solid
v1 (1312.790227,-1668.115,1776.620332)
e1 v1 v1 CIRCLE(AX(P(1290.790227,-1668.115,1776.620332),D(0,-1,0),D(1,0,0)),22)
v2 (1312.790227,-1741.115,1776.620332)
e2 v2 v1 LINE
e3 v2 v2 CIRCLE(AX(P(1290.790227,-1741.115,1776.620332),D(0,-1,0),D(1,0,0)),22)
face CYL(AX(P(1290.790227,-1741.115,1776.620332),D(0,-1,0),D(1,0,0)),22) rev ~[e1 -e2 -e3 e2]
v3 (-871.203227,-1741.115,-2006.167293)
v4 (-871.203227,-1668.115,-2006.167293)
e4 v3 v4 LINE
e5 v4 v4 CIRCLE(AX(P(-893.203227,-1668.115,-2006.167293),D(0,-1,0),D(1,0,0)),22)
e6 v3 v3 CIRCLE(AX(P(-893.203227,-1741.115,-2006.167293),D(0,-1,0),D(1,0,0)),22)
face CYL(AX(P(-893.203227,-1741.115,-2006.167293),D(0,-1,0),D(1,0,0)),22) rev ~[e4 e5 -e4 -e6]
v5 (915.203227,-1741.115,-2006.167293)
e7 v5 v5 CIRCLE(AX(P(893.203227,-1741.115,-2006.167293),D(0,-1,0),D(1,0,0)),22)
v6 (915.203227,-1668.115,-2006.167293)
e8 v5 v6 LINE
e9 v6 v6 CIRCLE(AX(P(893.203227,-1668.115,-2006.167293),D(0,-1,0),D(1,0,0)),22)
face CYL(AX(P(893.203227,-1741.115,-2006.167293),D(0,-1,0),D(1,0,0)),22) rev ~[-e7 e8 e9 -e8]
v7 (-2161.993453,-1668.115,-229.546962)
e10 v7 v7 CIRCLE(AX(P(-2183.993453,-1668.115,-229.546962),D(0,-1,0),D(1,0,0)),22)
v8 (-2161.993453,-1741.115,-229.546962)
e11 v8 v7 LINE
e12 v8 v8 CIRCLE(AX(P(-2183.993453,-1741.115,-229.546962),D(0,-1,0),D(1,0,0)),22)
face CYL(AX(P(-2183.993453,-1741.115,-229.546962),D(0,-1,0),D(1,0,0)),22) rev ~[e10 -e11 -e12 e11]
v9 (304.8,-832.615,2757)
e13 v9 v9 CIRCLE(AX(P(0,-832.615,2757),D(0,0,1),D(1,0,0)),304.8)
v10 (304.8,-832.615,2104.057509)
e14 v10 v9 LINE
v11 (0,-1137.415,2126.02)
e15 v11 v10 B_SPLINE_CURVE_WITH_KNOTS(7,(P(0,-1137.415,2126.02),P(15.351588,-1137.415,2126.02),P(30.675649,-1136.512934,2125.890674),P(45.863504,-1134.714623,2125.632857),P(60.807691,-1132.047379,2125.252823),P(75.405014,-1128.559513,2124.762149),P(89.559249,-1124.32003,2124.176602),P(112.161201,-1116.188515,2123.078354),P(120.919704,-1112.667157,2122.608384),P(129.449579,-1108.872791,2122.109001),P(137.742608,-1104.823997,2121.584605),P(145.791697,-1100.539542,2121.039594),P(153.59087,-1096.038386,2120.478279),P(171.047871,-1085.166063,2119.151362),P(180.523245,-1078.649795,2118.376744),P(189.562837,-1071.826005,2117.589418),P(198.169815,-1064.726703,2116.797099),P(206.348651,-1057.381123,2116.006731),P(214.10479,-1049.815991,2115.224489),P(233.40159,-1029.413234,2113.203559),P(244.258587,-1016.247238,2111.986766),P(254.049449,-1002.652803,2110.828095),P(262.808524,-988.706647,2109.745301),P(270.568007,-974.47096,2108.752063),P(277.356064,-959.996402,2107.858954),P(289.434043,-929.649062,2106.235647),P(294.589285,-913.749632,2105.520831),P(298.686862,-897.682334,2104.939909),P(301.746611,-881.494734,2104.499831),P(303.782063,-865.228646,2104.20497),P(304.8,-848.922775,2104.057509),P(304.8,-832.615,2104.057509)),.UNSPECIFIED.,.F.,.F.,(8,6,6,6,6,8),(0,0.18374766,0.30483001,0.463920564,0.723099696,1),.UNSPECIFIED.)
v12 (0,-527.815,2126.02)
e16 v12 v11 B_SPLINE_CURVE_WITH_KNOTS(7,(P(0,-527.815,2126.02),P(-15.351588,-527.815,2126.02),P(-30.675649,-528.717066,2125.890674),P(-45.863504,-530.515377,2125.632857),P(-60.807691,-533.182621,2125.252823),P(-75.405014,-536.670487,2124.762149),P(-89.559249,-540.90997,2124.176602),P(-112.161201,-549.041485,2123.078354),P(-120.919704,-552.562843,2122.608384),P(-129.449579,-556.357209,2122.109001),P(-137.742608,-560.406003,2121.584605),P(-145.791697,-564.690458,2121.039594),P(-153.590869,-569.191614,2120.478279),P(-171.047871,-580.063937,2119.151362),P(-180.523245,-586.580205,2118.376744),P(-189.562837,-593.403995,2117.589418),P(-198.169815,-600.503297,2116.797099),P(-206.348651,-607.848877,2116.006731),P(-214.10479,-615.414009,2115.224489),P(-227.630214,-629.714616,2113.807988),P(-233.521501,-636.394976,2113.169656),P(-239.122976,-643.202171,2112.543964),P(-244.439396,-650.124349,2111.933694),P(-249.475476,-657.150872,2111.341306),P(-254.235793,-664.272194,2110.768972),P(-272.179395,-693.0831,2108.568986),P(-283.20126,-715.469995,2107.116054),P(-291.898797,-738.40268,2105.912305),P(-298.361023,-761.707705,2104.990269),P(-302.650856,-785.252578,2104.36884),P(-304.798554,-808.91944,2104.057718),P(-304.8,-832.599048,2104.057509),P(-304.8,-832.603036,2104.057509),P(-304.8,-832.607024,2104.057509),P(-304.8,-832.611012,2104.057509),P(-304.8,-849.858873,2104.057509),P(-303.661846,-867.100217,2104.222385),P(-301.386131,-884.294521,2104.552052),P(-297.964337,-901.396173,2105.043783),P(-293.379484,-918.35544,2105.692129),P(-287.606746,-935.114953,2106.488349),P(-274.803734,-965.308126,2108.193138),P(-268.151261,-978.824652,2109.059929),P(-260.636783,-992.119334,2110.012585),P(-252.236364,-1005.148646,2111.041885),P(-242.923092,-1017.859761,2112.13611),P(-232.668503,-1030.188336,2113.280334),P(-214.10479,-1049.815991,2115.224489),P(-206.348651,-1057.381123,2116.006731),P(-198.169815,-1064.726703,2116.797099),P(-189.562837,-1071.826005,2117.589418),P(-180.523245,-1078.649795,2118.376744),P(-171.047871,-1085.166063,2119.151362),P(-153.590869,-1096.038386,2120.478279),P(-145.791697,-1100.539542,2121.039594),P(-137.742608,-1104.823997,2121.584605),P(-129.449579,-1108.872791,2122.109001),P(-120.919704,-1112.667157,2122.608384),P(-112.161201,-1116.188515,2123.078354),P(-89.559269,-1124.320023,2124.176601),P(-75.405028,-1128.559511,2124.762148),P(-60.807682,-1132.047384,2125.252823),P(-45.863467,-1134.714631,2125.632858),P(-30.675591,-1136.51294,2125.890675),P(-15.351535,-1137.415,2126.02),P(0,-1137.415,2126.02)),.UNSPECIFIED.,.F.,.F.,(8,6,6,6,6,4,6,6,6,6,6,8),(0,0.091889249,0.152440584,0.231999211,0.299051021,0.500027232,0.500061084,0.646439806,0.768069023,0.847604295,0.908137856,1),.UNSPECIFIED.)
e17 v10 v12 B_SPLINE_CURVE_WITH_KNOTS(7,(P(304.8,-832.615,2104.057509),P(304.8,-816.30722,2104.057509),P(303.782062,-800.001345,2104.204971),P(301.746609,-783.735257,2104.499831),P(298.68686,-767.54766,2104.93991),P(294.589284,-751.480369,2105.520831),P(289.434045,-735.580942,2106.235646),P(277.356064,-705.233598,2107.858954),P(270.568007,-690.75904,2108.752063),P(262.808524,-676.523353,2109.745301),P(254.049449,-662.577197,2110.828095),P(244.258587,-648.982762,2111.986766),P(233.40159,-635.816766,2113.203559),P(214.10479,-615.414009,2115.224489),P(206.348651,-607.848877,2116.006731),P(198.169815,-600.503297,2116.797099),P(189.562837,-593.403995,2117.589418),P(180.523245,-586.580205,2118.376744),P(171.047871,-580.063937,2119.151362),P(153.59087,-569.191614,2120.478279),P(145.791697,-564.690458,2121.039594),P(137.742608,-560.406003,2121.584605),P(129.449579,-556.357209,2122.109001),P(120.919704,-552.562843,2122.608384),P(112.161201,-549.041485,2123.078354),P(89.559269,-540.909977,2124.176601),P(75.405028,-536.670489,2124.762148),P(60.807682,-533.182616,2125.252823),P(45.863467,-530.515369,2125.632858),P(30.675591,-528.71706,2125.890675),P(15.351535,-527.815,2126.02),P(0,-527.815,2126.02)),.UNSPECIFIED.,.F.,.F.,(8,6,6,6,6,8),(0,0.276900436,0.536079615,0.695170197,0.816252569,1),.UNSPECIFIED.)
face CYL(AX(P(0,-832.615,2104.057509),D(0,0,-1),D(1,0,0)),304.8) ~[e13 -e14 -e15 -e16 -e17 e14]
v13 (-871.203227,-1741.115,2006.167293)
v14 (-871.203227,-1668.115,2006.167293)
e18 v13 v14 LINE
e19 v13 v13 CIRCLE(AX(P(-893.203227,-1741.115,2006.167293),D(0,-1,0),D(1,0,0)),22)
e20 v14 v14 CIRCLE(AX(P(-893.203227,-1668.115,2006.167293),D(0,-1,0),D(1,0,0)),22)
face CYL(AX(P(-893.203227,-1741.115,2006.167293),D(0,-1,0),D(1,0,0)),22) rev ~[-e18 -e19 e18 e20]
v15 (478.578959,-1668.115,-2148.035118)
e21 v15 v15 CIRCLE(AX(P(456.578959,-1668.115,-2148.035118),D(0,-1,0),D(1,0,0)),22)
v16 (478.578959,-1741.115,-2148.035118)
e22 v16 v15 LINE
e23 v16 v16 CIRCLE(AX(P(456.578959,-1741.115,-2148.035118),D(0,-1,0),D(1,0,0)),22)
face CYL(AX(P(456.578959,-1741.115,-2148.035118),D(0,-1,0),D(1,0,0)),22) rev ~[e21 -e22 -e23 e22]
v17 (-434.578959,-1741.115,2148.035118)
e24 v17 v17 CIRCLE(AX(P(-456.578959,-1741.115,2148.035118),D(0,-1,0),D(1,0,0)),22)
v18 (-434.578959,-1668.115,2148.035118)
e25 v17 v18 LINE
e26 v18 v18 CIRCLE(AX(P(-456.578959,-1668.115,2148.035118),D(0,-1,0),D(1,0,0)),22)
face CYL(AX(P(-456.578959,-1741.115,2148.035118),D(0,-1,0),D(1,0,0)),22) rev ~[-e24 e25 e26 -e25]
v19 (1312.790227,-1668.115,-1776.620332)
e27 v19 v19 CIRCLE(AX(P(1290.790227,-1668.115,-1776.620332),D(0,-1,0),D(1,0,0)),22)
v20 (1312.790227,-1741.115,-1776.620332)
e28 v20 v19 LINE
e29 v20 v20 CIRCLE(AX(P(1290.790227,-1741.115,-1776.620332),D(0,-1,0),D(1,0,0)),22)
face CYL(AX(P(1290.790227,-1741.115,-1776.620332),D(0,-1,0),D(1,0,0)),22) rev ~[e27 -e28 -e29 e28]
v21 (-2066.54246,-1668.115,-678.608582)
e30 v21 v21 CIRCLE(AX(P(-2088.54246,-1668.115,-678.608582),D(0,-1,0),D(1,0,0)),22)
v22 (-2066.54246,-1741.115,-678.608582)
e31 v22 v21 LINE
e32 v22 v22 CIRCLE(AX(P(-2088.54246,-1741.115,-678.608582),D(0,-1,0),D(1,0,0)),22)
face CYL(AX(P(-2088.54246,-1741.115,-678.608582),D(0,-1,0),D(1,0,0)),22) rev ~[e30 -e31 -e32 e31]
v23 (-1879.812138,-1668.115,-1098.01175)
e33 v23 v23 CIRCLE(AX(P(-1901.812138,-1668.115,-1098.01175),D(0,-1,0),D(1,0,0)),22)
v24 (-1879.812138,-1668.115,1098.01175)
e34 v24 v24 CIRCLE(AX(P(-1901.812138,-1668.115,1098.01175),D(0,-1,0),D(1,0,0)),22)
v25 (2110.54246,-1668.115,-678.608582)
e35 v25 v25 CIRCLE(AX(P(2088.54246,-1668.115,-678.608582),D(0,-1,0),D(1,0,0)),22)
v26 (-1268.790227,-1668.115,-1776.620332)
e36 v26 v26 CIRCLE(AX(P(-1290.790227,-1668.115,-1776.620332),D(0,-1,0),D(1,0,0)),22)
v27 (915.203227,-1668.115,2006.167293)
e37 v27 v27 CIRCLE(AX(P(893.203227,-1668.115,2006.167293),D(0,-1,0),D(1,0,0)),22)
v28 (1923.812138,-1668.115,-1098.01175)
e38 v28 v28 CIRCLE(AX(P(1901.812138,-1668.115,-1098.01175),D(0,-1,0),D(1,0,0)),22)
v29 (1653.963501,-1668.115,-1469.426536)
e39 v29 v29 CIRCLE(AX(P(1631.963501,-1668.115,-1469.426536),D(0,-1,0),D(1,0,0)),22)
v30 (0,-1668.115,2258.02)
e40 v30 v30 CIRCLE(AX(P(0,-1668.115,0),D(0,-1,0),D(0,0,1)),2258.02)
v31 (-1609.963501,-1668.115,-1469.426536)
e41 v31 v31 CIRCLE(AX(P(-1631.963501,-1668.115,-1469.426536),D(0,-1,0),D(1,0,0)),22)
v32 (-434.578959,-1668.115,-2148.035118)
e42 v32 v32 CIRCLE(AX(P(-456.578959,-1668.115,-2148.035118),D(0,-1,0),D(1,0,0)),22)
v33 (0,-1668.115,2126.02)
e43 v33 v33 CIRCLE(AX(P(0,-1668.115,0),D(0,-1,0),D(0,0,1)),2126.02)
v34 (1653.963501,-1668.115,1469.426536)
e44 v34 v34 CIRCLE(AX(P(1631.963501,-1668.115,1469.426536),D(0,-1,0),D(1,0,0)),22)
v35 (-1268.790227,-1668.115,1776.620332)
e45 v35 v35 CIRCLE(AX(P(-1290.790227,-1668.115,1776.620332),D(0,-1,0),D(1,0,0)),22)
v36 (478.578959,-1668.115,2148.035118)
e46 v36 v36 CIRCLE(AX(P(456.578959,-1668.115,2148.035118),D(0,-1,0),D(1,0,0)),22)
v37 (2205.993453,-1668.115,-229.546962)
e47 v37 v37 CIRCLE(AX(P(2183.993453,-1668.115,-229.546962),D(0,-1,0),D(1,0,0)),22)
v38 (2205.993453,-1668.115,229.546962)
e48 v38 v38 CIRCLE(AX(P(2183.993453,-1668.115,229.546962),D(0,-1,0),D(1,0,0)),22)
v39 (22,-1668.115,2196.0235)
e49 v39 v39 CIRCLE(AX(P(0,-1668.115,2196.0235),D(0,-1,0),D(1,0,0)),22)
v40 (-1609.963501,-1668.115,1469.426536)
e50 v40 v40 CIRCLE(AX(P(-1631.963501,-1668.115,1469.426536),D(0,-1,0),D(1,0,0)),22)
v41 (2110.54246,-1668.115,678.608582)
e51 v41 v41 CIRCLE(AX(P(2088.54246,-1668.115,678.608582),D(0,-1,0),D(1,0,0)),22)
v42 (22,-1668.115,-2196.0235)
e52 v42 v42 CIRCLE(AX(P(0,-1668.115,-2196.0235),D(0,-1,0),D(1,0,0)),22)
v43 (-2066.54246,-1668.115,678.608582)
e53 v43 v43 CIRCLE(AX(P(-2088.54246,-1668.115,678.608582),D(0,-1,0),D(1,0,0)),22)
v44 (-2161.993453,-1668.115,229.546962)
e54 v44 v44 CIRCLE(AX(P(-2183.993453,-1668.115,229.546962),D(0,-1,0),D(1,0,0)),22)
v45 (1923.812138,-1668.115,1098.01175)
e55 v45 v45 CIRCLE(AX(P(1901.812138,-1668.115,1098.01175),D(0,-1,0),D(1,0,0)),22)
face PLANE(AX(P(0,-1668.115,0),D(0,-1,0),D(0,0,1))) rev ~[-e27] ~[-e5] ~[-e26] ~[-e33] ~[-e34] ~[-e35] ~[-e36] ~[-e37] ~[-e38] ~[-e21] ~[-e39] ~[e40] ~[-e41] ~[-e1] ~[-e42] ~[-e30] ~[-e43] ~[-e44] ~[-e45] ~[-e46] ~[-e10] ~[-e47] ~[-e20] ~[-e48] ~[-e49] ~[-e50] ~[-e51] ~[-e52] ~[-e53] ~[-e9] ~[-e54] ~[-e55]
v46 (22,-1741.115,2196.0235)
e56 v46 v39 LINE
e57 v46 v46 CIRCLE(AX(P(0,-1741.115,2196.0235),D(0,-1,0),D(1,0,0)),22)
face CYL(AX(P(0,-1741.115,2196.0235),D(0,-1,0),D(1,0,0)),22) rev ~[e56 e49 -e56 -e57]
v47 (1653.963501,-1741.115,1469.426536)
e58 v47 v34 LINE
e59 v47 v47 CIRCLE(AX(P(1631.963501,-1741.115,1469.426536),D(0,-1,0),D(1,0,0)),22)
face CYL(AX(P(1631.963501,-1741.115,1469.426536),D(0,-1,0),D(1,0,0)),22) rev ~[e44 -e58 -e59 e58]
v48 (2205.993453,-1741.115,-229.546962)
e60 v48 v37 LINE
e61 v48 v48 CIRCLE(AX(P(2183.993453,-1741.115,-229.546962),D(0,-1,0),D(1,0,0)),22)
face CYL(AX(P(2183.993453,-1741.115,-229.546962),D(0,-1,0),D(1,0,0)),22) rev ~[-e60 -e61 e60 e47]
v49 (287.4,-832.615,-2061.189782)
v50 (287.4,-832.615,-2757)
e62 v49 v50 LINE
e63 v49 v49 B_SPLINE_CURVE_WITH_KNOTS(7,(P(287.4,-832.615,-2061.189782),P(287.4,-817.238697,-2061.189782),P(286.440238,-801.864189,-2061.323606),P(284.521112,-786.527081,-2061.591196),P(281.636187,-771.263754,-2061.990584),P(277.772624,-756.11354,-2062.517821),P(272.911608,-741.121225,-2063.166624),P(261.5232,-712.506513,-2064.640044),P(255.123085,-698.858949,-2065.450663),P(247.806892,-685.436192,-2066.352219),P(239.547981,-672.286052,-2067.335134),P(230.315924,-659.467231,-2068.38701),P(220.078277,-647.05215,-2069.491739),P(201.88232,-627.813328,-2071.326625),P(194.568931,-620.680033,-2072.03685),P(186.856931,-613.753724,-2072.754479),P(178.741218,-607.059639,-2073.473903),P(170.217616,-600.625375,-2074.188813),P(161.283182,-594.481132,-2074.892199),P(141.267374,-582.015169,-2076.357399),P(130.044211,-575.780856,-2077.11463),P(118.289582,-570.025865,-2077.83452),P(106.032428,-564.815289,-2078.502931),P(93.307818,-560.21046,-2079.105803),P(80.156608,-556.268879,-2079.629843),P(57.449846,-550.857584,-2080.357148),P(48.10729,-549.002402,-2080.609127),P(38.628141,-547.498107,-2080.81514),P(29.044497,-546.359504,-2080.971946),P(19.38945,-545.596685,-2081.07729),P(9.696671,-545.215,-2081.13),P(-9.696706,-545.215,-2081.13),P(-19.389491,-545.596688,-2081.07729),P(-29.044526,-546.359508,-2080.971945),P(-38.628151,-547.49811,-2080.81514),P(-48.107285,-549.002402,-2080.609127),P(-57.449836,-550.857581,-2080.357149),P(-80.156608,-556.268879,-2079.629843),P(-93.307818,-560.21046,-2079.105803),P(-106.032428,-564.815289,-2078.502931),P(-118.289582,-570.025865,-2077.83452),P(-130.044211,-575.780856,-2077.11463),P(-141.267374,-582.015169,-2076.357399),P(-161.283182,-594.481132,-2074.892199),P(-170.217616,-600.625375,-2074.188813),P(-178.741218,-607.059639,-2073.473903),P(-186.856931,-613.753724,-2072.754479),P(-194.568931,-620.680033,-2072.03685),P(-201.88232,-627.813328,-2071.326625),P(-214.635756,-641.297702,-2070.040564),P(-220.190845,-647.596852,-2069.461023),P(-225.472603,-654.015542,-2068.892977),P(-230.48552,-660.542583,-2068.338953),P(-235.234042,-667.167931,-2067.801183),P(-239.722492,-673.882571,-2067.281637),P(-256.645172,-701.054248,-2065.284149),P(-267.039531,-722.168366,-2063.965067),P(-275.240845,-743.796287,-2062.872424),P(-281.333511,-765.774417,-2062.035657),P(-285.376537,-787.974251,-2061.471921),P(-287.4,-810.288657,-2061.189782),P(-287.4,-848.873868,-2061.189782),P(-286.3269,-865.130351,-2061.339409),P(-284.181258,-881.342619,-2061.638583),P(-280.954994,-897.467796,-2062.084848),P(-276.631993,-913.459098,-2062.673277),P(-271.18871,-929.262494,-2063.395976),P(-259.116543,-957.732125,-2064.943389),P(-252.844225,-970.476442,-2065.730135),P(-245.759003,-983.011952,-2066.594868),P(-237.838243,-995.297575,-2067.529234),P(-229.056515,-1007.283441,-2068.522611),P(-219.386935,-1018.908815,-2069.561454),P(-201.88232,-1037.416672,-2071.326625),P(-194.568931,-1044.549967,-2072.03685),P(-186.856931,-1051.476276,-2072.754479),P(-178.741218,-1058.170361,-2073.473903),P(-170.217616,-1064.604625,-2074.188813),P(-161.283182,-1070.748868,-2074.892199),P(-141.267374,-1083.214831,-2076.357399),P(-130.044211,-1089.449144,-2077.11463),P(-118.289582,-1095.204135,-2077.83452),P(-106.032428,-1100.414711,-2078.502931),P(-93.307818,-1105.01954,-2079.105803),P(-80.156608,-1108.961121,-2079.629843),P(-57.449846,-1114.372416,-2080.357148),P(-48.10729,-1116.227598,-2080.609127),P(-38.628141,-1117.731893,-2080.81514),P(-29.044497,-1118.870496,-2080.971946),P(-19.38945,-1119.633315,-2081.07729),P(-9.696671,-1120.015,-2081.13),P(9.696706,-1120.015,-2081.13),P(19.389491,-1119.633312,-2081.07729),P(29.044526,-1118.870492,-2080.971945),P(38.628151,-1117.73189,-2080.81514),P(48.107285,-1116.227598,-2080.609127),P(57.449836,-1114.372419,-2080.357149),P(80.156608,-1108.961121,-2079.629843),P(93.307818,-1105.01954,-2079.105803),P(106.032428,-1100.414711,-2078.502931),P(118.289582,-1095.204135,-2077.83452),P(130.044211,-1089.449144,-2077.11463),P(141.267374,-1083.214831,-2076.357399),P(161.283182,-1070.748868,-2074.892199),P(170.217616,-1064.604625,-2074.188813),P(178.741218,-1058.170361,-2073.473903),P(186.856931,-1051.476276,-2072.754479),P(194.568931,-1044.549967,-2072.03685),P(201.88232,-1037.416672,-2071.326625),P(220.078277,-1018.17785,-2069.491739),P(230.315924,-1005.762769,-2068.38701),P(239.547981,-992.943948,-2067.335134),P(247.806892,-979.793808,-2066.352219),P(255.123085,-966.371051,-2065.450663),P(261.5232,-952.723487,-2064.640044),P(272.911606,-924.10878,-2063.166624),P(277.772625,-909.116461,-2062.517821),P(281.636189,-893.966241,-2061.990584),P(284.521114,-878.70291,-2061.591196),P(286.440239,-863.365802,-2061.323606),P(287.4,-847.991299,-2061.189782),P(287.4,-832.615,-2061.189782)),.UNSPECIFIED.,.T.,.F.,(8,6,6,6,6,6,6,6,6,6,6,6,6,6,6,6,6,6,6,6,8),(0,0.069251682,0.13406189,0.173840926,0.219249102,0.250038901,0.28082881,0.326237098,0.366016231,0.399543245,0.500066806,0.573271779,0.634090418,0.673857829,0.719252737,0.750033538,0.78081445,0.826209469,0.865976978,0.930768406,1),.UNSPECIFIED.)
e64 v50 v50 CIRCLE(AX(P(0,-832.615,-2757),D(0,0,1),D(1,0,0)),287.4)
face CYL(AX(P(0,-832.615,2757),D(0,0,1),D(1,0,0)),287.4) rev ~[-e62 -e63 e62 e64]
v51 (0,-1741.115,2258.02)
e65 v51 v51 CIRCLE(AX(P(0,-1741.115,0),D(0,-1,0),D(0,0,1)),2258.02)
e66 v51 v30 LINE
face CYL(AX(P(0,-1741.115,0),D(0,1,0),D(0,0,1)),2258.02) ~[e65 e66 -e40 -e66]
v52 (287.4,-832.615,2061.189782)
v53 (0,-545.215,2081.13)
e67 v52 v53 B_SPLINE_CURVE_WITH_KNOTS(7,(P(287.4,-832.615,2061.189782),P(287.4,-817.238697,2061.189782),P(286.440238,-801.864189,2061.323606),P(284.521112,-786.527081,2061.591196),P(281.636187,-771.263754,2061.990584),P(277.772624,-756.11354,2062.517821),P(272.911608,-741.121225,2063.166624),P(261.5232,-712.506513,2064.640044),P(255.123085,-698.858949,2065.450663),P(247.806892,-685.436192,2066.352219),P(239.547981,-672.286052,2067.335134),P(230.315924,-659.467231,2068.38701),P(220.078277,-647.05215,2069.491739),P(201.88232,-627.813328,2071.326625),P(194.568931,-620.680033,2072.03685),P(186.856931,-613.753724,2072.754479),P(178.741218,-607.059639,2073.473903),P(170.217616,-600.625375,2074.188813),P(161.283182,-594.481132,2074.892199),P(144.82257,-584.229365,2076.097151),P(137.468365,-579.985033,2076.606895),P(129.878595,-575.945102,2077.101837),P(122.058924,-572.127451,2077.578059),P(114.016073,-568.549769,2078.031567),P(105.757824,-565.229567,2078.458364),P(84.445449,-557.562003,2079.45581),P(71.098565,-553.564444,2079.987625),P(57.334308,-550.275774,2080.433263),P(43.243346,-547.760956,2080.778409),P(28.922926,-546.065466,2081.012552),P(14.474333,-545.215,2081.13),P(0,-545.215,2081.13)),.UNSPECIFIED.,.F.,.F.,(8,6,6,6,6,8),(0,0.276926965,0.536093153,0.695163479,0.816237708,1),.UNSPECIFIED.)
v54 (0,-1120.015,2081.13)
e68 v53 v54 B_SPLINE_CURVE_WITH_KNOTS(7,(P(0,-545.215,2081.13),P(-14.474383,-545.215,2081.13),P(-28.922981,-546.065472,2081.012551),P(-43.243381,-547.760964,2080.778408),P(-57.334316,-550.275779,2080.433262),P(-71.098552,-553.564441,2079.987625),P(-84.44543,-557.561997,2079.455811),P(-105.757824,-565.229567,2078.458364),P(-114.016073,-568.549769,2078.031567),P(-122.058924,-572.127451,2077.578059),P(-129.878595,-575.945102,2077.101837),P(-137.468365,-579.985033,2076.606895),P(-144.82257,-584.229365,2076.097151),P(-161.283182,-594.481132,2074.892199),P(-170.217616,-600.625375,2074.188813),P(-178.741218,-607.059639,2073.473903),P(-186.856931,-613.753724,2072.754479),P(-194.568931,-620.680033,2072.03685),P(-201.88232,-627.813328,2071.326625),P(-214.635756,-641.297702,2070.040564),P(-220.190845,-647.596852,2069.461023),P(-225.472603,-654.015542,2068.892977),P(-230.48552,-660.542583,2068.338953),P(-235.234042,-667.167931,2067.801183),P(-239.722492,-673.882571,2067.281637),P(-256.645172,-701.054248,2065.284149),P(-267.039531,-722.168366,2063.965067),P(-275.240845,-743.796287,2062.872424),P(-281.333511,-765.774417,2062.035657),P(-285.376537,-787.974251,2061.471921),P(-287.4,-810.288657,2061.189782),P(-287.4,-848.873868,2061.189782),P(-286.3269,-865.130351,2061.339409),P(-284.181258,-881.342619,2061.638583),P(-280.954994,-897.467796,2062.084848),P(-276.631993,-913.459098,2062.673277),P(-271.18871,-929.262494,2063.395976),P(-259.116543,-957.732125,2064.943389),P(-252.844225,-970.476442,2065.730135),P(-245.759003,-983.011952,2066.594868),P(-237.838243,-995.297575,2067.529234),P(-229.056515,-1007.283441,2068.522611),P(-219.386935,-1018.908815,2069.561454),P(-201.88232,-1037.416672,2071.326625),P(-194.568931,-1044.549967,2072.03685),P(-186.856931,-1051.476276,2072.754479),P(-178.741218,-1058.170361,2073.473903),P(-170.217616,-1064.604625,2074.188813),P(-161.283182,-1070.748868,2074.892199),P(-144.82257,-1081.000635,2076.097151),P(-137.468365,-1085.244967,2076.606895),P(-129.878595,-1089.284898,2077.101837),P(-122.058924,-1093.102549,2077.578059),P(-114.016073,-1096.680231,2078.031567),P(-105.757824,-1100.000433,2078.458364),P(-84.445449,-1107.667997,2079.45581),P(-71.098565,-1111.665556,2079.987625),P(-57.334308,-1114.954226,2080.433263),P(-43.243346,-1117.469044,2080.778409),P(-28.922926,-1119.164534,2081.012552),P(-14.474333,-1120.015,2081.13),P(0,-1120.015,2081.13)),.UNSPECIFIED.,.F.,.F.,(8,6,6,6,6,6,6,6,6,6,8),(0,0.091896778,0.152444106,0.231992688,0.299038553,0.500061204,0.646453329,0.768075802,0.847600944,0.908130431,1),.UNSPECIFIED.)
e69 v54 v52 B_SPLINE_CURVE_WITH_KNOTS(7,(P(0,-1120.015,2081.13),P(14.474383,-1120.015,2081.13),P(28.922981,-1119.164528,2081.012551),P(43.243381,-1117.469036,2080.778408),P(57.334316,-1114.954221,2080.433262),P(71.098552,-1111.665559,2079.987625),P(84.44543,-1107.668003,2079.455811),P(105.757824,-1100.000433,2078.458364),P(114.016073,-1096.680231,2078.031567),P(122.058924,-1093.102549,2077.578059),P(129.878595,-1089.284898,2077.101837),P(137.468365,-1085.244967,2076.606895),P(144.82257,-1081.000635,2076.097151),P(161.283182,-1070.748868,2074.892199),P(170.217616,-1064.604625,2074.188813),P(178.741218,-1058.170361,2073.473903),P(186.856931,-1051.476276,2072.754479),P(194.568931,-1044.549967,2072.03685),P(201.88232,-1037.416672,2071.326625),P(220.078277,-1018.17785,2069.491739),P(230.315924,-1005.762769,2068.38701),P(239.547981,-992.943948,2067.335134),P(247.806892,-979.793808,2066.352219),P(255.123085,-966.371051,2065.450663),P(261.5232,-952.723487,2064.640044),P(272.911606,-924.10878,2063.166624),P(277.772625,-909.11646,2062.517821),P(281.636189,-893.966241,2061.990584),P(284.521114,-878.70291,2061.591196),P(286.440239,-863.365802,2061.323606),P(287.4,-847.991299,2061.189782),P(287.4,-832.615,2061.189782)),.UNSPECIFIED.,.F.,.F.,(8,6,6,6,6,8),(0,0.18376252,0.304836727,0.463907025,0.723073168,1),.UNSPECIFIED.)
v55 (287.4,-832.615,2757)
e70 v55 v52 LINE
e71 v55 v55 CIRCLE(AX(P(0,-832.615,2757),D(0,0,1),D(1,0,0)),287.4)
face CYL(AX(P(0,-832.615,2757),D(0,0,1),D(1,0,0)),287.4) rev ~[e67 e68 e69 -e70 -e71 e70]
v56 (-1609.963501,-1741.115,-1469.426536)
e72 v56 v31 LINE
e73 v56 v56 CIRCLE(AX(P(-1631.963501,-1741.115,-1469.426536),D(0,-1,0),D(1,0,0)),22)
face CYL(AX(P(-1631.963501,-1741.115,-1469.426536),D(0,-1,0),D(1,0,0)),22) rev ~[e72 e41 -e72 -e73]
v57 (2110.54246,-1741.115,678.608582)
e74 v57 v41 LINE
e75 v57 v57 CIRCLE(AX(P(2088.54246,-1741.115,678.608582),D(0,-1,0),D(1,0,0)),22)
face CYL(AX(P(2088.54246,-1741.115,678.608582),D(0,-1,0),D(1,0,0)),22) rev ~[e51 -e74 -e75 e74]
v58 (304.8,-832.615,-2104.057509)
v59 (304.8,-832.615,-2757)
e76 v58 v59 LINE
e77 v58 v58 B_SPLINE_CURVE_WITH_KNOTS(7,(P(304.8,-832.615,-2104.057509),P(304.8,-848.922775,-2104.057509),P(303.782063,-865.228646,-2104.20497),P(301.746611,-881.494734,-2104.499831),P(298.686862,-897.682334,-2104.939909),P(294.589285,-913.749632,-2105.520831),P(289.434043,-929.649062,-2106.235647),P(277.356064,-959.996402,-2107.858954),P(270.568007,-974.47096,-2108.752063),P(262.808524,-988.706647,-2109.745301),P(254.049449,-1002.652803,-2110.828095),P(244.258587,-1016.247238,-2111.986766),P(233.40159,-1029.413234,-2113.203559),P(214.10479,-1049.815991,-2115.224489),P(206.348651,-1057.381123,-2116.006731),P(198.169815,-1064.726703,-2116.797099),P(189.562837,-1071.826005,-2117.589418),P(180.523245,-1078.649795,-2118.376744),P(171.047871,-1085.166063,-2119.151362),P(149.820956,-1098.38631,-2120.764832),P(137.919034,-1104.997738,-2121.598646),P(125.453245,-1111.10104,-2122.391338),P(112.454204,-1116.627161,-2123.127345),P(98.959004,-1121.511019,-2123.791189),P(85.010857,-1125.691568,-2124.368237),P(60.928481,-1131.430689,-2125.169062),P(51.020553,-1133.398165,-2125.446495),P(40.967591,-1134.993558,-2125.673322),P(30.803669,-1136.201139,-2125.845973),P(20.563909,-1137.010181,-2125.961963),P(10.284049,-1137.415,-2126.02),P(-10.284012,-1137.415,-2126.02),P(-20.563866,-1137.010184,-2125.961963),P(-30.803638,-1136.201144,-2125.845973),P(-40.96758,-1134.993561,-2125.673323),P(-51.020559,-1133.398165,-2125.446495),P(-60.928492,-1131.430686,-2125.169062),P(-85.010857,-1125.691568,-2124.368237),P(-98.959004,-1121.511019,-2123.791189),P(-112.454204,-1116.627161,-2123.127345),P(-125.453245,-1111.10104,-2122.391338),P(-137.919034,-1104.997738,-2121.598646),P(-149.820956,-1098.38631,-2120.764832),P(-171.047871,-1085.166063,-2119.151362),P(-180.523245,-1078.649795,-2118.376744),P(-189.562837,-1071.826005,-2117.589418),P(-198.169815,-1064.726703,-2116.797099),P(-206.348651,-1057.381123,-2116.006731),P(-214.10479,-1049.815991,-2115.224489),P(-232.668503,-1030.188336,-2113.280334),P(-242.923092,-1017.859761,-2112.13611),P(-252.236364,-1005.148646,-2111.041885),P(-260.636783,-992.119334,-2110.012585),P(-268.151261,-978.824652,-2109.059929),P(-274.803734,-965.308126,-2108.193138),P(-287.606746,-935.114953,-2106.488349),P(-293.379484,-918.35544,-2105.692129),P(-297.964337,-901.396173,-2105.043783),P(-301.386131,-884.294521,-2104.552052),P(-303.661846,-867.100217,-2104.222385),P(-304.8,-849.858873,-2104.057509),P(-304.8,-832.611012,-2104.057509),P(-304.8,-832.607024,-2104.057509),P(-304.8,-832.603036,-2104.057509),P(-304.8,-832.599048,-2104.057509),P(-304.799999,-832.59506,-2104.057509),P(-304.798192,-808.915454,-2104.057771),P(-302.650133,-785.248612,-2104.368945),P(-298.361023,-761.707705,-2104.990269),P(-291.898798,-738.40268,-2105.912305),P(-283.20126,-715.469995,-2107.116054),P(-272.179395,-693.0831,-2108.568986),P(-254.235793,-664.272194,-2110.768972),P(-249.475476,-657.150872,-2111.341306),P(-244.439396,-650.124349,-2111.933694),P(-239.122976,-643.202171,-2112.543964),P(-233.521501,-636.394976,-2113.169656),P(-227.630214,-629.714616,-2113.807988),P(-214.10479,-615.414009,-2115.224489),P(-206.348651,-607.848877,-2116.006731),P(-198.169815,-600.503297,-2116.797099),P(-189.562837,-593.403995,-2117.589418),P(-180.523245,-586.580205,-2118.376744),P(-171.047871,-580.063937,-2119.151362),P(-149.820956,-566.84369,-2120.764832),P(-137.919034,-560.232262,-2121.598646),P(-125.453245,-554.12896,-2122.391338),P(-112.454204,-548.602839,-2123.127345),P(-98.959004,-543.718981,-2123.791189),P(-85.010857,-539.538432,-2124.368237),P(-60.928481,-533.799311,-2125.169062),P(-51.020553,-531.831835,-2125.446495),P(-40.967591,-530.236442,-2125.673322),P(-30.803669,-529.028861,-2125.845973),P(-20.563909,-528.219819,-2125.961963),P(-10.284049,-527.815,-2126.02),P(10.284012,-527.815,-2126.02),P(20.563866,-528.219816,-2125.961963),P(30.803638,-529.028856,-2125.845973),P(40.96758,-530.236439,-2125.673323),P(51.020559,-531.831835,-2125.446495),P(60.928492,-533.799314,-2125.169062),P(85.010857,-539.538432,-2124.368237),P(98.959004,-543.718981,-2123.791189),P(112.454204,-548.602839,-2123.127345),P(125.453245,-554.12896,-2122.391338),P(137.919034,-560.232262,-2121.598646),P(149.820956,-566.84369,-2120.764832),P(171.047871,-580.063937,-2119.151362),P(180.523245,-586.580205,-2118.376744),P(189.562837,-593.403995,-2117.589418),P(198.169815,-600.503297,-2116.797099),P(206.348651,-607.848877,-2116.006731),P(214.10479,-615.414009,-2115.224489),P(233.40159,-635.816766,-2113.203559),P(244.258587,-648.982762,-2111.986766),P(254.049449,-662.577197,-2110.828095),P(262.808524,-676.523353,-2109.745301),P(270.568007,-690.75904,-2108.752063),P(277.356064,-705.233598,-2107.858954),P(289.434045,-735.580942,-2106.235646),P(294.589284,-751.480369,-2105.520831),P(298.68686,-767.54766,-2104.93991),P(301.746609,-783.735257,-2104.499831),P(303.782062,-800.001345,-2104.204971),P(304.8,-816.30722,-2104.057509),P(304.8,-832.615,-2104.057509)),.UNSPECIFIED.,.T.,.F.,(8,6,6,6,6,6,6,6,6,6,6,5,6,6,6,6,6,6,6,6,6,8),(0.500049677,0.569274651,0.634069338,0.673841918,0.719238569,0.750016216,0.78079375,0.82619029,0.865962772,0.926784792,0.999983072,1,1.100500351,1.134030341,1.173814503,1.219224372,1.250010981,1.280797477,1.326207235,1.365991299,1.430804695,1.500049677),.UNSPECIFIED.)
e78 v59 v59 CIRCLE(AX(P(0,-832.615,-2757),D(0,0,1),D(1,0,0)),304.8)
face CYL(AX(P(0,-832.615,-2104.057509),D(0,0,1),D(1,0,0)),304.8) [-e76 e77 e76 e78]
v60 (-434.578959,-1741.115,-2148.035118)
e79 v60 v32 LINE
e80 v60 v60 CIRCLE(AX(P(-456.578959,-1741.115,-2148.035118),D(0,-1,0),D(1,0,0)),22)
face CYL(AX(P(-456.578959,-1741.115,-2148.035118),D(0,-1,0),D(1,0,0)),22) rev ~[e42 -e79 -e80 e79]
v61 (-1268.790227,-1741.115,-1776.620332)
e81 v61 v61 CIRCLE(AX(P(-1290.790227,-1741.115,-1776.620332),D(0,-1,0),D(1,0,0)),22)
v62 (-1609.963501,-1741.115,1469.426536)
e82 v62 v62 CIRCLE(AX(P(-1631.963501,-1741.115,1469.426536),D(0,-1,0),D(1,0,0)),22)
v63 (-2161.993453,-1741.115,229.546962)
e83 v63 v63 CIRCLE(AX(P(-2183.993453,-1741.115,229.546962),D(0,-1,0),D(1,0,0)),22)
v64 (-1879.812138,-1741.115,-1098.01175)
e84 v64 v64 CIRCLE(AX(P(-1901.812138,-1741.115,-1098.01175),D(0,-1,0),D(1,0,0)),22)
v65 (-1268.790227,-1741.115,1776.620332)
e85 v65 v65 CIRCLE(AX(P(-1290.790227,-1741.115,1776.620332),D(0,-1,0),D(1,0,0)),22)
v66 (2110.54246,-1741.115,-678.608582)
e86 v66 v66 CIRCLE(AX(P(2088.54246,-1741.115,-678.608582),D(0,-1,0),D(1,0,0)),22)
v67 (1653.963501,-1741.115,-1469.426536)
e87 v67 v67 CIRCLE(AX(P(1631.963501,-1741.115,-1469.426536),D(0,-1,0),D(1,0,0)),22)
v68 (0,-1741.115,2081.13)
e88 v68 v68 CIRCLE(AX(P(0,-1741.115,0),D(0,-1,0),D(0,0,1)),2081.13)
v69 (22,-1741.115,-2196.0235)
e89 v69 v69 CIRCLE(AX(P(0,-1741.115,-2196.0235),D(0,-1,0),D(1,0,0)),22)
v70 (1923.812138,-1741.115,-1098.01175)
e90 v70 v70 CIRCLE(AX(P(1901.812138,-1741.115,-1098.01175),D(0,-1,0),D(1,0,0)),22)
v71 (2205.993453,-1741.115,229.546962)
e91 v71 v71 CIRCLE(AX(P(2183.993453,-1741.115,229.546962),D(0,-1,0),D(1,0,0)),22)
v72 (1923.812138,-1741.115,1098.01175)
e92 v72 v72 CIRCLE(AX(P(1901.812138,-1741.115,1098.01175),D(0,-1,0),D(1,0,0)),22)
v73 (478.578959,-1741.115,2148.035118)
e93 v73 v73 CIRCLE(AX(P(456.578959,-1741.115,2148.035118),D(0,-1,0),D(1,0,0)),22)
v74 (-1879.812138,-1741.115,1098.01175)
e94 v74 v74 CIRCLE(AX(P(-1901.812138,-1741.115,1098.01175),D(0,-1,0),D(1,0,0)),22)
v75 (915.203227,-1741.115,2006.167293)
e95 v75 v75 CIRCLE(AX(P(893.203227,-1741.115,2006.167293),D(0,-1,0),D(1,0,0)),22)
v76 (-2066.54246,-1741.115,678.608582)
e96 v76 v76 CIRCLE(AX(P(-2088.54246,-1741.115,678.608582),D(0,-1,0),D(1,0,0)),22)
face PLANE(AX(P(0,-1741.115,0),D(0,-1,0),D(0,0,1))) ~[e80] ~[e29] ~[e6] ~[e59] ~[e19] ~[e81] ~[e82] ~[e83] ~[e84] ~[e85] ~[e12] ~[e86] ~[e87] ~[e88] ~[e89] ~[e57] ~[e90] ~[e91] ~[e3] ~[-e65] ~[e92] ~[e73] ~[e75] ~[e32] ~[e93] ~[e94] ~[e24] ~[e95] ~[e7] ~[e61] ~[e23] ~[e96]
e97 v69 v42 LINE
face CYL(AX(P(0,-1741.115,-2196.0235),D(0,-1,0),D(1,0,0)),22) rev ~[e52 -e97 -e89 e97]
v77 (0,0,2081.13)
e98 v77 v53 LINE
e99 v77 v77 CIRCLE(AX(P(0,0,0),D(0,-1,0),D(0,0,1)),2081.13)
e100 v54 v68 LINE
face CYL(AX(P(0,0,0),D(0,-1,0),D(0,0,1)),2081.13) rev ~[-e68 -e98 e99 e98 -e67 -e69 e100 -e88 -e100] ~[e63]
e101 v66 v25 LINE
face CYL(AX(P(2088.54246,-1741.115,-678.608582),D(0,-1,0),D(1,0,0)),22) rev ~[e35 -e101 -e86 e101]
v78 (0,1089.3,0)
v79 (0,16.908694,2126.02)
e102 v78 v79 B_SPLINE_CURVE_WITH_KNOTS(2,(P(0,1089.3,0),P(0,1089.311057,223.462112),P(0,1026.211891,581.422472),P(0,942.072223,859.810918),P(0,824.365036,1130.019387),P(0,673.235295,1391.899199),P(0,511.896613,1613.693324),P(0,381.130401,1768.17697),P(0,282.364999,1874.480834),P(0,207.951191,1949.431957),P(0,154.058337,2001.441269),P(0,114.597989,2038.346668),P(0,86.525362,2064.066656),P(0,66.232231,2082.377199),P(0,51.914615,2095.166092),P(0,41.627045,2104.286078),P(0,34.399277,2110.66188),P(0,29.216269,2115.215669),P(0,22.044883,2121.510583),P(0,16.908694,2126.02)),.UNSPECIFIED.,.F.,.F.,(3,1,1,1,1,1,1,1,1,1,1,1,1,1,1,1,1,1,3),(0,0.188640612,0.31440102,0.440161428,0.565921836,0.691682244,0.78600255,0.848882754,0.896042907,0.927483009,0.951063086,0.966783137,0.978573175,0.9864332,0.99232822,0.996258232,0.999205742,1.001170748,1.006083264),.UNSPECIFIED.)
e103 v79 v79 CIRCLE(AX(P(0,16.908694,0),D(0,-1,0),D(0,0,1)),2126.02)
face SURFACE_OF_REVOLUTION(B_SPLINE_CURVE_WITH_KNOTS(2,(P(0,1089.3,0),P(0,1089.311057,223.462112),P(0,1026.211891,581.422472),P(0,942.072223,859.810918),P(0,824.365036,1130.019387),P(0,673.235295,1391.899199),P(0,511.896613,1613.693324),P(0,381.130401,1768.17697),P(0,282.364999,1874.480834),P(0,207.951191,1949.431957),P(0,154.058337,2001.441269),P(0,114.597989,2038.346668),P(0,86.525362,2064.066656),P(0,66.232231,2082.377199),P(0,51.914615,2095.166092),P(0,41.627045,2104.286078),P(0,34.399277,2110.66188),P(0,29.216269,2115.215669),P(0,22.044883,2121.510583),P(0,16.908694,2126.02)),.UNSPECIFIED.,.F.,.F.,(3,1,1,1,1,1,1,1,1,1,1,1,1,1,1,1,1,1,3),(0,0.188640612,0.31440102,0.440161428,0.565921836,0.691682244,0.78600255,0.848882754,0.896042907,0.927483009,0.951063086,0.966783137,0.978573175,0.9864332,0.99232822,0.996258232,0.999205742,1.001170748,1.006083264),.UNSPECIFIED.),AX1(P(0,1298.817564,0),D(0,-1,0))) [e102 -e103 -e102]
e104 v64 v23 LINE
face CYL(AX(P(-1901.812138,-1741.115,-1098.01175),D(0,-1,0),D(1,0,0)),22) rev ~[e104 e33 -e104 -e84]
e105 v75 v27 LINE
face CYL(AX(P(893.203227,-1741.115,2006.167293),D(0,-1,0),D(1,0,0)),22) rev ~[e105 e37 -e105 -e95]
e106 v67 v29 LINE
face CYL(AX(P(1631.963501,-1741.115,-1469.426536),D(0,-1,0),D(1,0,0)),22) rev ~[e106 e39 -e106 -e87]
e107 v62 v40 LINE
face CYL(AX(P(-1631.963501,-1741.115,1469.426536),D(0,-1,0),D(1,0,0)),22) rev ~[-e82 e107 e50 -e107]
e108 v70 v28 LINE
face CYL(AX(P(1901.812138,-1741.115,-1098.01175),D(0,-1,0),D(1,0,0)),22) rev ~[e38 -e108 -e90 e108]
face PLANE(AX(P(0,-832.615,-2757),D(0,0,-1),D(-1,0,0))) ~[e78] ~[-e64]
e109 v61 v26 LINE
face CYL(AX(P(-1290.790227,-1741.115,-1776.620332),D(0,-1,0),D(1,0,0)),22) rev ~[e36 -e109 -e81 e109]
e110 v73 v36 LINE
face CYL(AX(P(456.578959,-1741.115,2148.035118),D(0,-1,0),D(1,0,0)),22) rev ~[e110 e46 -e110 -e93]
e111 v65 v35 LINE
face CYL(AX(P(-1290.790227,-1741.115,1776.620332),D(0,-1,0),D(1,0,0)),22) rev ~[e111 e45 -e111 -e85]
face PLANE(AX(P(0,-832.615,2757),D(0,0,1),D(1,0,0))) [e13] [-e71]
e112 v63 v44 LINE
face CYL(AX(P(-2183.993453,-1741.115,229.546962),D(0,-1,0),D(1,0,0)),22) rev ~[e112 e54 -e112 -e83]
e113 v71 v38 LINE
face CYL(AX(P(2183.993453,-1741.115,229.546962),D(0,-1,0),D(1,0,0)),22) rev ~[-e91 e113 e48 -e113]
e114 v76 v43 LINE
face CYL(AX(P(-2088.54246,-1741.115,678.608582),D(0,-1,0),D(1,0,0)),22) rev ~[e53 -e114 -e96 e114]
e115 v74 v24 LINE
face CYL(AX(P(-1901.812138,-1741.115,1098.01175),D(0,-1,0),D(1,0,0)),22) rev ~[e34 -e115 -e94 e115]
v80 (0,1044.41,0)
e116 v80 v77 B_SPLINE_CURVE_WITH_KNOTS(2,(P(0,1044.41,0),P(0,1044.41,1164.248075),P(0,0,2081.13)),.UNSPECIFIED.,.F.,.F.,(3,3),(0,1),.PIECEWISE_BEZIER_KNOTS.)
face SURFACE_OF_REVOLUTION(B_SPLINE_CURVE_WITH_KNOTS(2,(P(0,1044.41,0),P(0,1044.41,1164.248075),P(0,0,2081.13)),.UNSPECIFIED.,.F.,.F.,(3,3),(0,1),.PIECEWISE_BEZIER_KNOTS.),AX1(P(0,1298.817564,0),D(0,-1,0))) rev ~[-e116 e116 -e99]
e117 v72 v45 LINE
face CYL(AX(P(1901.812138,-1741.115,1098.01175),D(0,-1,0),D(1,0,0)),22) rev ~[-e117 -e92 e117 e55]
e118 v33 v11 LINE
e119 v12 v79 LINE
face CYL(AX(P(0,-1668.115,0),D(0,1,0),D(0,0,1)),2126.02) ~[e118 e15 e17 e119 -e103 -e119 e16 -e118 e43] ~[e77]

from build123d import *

# Parameters (mm, degrees)
BOSS_EXTRUDE1_START = -652.942491
SKETCH3_R           = 304.8
BOSS_EXTRUDE1_DEPTH = 652.942491
SKETCH4_R           = 287.4
CUT_EXTRUDE1_DEPTH  = 5515.0000001
SKETCH5_R           = 22
CUT_EXTRUDE2_DEPTH  = 73


with BuildPart() as part:
    # Sketch1 → Revolve1 (revolve)
    with BuildSketch(Plane(origin=(0, 0, 0), x_dir=(0, 0, -1), z_dir=(1, 0, 0))):
        with BuildLine():
            Line((-2081.13, 0), (-2081.13, -1741.115))
            Line((-2081.13, -1741.115), (-2258.02, -1741.115))
            Line((-2258.02, -1741.115), (-2258.02, -1668.115))
            Line((-2258.02, -1668.115), (-2126.02, -1668.115))
            Line((-2126.02, -1668.115), (-2126.02, 16.908694058))
            add(Edge.make_bspline(
                [(0, 1089.3), (-223.462111711, 1089.311057215), (-581.422471541, 1026.211890554), (-859.810917531, 942.072223216), (-1130.019387147, 824.365036373), (-1391.8991989, 673.235294536), (-1613.69332384, 511.89661327), (-1768.176969901, 381.130401339), (-1874.480833736, 282.364998713), (-1949.431957446, 207.95119084), (-2001.441268917, 154.058336721), (-2038.346667779, 114.5979888), (-2064.066656222, 86.525362358), (-2082.377199325, 66.232230793), (-2095.16609191, 51.91461534), (-2104.286077598, 41.627045393), (-2110.661880175, 34.399277298), (-2115.215669271, 29.216268924), (-2121.510582718, 22.044882998), (-2126.02, 16.908694058)],
                knots=[0, 0, 0, 0.188640612, 0.31440102, 0.440161428, 0.565921836, 0.691682244, 0.78600255, 0.848882754, 0.896042907, 0.927483009, 0.951063086, 0.966783137, 0.978573175, 0.9864332, 0.99232822, 0.996258232, 0.999205742, 1.001170748, 1.006083264, 1.006083264, 1.006083264], degree=2))
            Line((0, 1089.3), (0, 1044.41))
            add(Edge.make_bspline(
                [(0, 1044.41), (-1164.248075476, 1044.41), (-2081.13, 0)],
                knots=[0, 0, 0, 1, 1, 1], degree=2))
        make_face()
    revolve(axis=Axis((0, 1298.817564103, 0), (0, -1, 0)))

    # Sketch3 → Boss-Extrude1 (add)
    with BuildSketch(Plane.XY.offset(2757).offset(BOSS_EXTRUDE1_START)):
        with Locations((0, -832.615)):
            Circle(SKETCH3_R)
    boss_extrude1 = extrude(amount=BOSS_EXTRUDE1_DEPTH)

    # Mirror1: Boss-Extrude1 across plane
    add(boss_extrude1.mirror(Plane.XY))

    # Sketch4 → Cut-Extrude1 (cut, through all)
    with BuildSketch(Plane.XY.offset(2757)):
        with Locations((0, -832.615)):
            Circle(SKETCH4_R)
    extrude(amount=-CUT_EXTRUDE1_DEPTH, mode=Mode.SUBTRACT)

    # Sketch5 → Cut-Extrude2 (cut)
    with BuildSketch(Plane.XZ.offset(1741.115)):
        with Locations((0, 2196.0235)):
            Circle(SKETCH5_R)
        with Locations((456.578958961, 2148.03511768)):
            Circle(SKETCH5_R)
        with Locations((893.203226506, 2006.167293301)):
            Circle(SKETCH5_R)
        with Locations((1290.790226988, 1776.620331547)):
            Circle(SKETCH5_R)
        with Locations((1631.963500652, 1469.426536133)):
            Circle(SKETCH5_R)
        with Locations((1901.812138308, 1098.01175)):
            Circle(SKETCH5_R)
        with Locations((2088.542459612, 678.608581547)):
            Circle(SKETCH5_R)
        with Locations((2183.993453493, 229.546961755)):
            Circle(SKETCH5_R)
        with Locations((2183.993453493, -229.546961755)):
            Circle(SKETCH5_R)
        with Locations((2088.542459612, -678.608581547)):
            Circle(SKETCH5_R)
        with Locations((1901.812138308, -1098.01175)):
            Circle(SKETCH5_R)
        with Locations((1631.963500652, -1469.426536133)):
            Circle(SKETCH5_R)
        with Locations((1290.790226988, -1776.620331547)):
            Circle(SKETCH5_R)
        with Locations((893.203226506, -2006.167293301)):
            Circle(SKETCH5_R)
        with Locations((456.578958961, -2148.03511768)):
            Circle(SKETCH5_R)
        with Locations((0, -2196.0235)):
            Circle(SKETCH5_R)
        with Locations((-456.57895896, -2148.03511768)):
            Circle(SKETCH5_R)
        with Locations((-893.203226505, -2006.167293301)):
            Circle(SKETCH5_R)
        with Locations((-1290.790226988, -1776.620331547)):
            Circle(SKETCH5_R)
        with Locations((-1631.963500652, -1469.426536133)):
            Circle(SKETCH5_R)
        with Locations((-1901.812138307, -1098.01175)):
            Circle(SKETCH5_R)
        with Locations((-2088.542459612, -678.608581547)):
            Circle(SKETCH5_R)
        with Locations((-2183.993453493, -229.546961755)):
            Circle(SKETCH5_R)
        with Locations((-2183.993453493, 229.546961755)):
            Circle(SKETCH5_R)
        with Locations((-2088.542459612, 678.608581547)):
            Circle(SKETCH5_R)
        with Locations((-1901.812138308, 1098.01175)):
            Circle(SKETCH5_R)
        with Locations((-1631.963500652, 1469.426536133)):
            Circle(SKETCH5_R)
        with Locations((-1290.790226988, 1776.620331547)):
            Circle(SKETCH5_R)
        with Locations((-893.203226506, 2006.167293301)):
            Circle(SKETCH5_R)
        with Locations((-456.578958961, 2148.03511768)):
            Circle(SKETCH5_R)
    extrude(amount=-CUT_EXTRUDE2_DEPTH, mode=Mode.SUBTRACT)


solid = part.part
